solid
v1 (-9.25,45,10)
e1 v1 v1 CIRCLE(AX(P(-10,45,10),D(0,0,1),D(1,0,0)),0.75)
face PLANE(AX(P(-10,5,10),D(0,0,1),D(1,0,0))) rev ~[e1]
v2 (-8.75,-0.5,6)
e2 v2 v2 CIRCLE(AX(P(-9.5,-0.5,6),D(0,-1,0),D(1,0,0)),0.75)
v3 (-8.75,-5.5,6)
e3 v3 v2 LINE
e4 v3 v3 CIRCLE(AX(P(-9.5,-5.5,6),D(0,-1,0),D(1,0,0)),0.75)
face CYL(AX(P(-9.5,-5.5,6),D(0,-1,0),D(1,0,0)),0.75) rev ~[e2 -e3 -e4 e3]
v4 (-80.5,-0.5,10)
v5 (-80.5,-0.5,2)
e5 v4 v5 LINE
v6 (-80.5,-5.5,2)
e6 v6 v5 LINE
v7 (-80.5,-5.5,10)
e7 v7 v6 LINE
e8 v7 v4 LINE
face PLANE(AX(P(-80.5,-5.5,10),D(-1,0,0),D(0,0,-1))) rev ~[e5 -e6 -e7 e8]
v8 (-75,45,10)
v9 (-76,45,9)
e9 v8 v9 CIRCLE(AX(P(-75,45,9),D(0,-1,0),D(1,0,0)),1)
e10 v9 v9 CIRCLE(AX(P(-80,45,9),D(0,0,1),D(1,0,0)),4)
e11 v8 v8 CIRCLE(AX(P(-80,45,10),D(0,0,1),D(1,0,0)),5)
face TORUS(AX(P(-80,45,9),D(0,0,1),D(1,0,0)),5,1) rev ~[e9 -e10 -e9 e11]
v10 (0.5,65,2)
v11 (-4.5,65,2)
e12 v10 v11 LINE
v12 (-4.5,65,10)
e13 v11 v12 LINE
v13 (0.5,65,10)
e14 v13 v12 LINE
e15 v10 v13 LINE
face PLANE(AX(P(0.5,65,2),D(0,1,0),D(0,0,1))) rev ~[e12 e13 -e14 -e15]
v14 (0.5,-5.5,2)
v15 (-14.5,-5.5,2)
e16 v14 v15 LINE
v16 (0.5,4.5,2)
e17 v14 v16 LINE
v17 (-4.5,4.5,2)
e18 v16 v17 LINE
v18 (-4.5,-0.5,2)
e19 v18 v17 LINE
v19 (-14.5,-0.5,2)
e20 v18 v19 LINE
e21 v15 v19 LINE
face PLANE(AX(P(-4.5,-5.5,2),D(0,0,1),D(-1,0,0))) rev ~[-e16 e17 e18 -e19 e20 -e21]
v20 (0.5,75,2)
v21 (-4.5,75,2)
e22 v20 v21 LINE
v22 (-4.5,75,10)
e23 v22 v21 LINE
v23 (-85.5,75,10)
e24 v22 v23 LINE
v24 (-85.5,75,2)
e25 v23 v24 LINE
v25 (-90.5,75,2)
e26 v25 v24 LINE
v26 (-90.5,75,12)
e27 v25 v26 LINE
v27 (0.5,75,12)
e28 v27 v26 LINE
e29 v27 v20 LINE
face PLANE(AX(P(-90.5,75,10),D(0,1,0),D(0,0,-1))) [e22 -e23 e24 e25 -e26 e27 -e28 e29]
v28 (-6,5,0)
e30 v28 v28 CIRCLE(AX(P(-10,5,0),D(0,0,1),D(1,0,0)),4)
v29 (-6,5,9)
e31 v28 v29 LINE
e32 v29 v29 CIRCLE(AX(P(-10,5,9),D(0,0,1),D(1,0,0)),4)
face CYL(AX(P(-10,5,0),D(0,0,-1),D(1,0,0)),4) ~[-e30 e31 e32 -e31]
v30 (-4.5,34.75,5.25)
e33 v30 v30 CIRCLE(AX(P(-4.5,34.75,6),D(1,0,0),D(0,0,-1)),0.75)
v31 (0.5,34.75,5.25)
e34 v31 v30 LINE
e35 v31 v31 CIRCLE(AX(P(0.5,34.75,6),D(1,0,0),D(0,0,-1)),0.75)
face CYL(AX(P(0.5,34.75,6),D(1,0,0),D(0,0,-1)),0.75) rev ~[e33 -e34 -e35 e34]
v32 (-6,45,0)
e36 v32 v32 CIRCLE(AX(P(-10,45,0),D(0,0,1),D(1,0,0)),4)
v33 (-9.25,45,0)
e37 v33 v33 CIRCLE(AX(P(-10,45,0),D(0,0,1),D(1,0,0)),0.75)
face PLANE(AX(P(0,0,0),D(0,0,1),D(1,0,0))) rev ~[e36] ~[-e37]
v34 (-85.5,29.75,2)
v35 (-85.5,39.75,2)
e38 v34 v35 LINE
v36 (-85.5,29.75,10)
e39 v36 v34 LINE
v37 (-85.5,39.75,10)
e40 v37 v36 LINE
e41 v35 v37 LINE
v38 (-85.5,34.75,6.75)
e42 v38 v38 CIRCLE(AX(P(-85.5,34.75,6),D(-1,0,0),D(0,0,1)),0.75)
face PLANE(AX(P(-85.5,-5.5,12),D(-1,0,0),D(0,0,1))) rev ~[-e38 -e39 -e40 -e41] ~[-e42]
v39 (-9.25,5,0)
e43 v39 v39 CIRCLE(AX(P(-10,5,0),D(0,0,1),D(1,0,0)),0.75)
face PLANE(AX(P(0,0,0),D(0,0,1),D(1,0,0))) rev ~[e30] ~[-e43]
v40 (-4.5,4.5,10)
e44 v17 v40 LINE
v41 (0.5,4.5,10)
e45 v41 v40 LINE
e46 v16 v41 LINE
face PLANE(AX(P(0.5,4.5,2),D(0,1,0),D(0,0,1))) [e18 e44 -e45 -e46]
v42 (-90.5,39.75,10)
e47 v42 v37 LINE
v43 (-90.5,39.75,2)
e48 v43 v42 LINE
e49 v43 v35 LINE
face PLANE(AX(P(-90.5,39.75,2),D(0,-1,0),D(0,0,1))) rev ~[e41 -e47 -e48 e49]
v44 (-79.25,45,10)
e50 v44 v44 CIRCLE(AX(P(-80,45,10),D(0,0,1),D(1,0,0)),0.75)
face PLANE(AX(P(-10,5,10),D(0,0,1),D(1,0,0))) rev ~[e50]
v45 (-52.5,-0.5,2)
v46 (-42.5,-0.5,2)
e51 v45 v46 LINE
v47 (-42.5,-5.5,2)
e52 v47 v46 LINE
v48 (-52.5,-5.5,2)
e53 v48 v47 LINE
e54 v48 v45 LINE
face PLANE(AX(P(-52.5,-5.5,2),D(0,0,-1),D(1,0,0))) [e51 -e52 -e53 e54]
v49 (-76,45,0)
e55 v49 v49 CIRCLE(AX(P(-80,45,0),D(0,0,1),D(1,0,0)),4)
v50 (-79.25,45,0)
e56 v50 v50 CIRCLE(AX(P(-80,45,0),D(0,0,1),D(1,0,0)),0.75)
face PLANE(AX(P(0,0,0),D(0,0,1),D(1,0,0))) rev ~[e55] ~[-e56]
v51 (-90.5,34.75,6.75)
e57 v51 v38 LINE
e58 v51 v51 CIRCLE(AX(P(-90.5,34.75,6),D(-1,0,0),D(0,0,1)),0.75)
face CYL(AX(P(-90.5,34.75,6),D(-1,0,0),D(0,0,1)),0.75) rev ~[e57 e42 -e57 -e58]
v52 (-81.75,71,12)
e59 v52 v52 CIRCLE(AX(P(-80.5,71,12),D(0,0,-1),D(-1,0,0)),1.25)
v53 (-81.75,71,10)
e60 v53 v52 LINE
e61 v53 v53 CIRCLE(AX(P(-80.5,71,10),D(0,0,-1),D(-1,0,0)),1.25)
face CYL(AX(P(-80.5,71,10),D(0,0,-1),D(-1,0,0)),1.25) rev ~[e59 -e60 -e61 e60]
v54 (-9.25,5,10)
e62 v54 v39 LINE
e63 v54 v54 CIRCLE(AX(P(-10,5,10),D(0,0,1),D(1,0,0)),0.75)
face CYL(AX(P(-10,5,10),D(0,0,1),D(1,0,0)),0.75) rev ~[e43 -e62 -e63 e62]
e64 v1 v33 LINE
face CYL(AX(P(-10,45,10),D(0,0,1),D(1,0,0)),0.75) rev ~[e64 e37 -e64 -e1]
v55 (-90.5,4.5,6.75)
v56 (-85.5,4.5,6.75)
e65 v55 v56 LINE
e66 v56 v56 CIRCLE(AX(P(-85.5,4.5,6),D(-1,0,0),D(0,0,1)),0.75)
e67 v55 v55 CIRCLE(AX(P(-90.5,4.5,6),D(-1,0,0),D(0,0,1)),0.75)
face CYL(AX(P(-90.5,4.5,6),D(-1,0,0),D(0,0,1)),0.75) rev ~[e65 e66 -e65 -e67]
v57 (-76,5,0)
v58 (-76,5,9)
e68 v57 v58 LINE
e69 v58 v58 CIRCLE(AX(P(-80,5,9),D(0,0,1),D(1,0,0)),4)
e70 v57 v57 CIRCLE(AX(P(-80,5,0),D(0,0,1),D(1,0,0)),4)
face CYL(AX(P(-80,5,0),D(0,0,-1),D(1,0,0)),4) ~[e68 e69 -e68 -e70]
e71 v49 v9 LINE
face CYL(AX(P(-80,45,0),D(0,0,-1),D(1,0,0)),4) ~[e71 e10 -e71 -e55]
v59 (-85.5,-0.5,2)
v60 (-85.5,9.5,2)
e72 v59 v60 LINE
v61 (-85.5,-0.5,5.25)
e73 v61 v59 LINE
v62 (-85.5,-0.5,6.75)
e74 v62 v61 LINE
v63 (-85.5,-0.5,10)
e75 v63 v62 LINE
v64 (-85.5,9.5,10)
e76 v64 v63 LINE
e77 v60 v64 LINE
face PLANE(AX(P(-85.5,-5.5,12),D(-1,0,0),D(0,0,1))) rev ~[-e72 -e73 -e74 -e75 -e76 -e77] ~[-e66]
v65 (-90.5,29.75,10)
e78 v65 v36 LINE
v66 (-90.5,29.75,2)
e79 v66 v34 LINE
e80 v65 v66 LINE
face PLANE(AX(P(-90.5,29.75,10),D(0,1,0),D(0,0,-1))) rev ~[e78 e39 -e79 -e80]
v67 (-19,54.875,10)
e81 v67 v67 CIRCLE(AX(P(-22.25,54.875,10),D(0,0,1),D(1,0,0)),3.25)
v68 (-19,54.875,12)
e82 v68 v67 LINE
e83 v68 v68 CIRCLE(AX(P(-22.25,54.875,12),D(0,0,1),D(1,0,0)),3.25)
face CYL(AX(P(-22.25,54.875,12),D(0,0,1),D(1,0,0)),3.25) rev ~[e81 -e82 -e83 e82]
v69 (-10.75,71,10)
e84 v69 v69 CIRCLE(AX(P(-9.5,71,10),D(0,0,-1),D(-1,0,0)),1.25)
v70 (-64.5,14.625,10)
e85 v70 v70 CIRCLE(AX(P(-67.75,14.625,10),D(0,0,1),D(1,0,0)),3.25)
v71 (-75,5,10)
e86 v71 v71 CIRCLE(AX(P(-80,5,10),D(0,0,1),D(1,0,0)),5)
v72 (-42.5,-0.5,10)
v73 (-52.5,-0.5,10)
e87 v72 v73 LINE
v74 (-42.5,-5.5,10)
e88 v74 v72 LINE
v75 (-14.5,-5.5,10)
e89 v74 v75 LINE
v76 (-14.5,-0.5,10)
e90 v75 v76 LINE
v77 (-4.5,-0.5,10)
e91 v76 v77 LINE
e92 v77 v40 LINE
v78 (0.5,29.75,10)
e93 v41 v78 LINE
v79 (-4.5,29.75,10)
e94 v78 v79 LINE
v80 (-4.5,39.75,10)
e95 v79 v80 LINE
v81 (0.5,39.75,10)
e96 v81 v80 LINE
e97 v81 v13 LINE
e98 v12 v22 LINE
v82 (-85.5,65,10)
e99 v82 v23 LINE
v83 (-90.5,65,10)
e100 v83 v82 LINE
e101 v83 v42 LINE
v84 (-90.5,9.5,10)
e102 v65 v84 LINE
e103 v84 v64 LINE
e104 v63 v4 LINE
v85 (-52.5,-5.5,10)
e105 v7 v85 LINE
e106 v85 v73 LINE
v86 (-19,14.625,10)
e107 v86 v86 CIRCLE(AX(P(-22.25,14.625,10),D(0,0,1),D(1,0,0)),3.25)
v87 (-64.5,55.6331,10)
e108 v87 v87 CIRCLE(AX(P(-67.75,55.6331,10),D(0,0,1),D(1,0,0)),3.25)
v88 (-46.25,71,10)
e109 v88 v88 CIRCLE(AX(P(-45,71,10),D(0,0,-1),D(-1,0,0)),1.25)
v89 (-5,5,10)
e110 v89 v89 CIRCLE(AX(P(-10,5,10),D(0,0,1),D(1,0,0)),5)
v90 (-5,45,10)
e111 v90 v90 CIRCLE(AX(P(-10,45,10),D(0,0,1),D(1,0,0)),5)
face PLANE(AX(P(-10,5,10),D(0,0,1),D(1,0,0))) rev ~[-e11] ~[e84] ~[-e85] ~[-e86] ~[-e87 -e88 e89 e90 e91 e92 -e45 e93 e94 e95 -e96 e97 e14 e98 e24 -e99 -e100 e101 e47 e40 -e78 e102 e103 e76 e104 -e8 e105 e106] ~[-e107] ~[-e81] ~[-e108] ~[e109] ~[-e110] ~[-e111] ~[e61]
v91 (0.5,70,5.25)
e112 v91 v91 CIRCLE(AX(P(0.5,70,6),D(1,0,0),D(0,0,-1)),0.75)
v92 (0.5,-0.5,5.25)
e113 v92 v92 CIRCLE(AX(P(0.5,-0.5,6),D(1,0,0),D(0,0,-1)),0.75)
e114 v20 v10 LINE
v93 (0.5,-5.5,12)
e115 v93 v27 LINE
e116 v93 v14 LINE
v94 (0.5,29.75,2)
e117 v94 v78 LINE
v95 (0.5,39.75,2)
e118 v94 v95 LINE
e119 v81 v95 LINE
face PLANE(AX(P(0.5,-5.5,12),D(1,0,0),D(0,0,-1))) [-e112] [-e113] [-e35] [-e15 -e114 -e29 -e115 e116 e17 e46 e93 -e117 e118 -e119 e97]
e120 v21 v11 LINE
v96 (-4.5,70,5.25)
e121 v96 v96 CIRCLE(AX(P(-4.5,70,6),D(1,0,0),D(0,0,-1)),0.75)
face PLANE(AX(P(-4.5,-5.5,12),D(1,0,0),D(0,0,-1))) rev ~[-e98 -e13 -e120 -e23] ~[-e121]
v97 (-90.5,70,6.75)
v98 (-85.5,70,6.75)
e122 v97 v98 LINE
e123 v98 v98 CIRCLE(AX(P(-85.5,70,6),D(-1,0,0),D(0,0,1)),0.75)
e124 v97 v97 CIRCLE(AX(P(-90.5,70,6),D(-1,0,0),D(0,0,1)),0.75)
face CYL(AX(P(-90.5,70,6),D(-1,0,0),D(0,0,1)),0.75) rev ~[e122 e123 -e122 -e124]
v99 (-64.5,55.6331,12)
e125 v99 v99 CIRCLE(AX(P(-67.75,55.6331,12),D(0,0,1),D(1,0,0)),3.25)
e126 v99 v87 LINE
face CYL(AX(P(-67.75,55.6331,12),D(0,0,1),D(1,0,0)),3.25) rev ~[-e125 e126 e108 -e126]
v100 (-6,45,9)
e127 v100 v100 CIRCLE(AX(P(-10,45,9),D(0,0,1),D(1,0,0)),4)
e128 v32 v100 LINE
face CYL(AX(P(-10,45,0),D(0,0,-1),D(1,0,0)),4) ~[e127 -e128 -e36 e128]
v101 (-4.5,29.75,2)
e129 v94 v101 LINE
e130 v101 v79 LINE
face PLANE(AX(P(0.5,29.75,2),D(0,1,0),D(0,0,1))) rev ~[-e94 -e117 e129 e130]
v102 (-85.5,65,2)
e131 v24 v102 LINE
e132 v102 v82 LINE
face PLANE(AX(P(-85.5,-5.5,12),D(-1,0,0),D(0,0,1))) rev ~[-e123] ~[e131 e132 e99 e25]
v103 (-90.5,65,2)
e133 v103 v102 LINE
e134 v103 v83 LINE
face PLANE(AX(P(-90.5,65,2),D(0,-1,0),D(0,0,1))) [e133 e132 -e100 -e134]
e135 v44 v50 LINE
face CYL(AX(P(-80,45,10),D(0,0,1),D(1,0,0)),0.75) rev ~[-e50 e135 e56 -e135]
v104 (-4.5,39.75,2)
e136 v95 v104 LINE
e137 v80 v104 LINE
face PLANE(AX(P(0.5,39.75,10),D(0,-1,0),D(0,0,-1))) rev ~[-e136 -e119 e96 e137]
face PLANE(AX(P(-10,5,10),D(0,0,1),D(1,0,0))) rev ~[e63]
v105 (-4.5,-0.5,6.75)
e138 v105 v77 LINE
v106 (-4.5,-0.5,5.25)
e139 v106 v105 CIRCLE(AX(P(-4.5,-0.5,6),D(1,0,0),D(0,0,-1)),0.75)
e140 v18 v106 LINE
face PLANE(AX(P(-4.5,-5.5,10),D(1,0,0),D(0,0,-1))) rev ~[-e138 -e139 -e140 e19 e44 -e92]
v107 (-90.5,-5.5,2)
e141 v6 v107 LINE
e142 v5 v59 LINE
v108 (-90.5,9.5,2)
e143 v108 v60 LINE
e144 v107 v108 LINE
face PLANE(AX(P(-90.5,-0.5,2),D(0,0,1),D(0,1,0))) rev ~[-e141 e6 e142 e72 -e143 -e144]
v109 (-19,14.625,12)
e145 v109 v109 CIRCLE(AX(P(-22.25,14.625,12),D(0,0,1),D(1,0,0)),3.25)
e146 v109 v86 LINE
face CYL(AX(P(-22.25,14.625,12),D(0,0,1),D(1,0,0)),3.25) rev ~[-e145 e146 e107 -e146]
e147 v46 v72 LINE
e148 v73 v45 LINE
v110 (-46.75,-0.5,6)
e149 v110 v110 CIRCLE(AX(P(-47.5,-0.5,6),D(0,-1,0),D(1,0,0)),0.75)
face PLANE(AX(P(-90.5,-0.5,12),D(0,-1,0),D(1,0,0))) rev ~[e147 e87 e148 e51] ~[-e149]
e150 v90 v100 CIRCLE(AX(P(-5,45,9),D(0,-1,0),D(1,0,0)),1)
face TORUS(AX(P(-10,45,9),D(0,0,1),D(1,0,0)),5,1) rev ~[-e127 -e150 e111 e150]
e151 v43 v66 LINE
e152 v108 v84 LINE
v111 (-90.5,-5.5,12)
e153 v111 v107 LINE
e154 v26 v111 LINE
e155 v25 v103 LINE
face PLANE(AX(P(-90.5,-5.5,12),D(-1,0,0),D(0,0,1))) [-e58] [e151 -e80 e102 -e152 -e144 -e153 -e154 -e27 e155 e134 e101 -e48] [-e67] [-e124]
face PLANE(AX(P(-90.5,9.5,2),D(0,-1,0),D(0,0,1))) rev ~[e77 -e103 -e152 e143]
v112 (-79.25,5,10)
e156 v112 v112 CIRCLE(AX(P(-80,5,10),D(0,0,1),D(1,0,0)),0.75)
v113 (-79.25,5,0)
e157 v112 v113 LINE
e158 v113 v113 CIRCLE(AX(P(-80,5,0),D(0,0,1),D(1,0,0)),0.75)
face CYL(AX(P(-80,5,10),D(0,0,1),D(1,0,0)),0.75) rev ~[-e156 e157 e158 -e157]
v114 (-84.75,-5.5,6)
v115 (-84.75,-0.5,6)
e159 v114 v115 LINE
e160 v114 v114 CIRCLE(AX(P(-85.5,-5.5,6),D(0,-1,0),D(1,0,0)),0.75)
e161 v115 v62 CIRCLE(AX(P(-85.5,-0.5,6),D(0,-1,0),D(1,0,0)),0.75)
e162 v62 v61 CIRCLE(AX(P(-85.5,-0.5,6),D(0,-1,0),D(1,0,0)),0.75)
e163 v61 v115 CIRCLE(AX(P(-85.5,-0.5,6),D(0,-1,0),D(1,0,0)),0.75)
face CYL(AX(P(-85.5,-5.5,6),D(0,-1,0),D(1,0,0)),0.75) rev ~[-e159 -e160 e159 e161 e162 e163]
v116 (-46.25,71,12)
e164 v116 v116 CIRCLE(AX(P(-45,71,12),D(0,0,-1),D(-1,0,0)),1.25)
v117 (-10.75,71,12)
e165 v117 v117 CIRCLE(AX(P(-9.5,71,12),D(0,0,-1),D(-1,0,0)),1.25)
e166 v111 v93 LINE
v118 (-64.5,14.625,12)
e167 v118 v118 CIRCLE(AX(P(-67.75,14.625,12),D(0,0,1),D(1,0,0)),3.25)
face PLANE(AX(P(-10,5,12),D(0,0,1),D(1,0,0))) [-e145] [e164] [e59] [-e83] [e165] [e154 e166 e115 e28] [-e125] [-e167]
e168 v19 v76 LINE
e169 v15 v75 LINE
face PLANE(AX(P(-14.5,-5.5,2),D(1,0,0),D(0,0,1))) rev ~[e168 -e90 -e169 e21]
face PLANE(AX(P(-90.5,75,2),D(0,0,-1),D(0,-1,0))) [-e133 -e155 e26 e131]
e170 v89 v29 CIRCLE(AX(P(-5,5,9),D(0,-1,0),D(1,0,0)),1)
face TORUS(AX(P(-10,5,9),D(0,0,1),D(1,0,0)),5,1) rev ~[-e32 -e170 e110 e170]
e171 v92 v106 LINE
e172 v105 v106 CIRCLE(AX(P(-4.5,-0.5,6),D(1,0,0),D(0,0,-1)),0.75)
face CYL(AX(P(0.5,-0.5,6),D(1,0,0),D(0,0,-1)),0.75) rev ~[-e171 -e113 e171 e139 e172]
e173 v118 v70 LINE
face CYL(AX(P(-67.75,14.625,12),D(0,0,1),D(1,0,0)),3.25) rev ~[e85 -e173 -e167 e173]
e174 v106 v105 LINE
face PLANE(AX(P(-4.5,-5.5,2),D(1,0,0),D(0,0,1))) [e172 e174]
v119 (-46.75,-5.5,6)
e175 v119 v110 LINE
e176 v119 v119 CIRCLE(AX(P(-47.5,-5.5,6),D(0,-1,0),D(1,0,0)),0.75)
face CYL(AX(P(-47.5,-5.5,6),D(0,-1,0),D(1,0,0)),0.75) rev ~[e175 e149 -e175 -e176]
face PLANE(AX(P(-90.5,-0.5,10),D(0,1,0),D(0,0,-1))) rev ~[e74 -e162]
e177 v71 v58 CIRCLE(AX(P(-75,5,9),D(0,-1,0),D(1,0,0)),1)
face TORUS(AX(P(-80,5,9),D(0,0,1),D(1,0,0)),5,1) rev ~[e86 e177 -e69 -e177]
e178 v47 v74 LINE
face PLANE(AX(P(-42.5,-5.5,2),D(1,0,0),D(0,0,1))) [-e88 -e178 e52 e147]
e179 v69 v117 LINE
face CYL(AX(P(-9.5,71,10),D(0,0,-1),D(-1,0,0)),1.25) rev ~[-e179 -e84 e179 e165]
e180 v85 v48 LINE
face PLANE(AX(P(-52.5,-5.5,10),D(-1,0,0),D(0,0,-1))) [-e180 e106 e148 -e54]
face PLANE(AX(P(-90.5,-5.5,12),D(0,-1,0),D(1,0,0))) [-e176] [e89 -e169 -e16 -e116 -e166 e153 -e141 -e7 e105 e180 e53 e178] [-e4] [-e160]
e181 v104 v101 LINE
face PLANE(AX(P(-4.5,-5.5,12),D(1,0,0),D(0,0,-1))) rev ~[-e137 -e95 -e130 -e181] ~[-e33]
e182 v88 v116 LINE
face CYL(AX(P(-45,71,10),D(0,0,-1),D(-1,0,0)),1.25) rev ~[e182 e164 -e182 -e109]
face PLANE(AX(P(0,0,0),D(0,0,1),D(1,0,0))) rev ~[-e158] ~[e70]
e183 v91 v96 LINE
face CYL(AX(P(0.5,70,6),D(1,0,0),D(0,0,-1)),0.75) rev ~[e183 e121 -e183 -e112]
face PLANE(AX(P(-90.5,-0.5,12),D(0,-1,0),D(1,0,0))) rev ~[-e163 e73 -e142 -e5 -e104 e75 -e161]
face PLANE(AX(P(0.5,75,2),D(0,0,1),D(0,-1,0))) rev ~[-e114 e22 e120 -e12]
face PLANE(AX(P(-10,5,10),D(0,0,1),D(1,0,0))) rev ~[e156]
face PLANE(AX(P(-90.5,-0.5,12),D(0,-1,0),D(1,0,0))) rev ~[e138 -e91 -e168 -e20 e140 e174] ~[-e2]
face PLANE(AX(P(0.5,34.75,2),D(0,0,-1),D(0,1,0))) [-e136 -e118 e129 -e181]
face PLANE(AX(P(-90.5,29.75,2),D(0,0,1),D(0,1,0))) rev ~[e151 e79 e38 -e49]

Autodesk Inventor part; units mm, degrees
ref_plane "YZ Plane" through (0, 0, 0) normal (1, 0, 0) x (0, 1, 0)
ref_plane "XZ Plane" through (0, 0, 0) normal (0, 1, 0) x (-1, 0, 0)
ref_plane "XY Plane" through (0, 0, 0) normal (0, 0, 1) x (1, 0, 0)
ref_plane "Work Plane1" through (0, 0, 0) normal (0, 0, 1) x (1, 0, 0)
sketch "Sketch1" plane through (0, 0, 0) normal (0, 0, 1) x (1, 0, 0)
  circle A0 centre (-10, 5) radius 2 projected
  circle A1 centre (-80, 5) radius 2.426 projected
  circle A2 centre (-10, 45) radius 2 projected
  circle A3 centre (-80, 45) radius 2 projected
  circle A4 centre (-10, 5) radius 4
  circle A5 centre (-80, 5) radius 4
  circle A6 centre (-10, 45) radius 4
  circle A7 centre (-80, 45) radius 4
  point P0 (0, 0)
  dimension "d0" = 8
  dimension "d1" = 8
  dimension "d2" = 8
  dimension "d3" = 8
extrude "Extrusion1" add sketch "Sketch1" along normal blind 10 contours A0 | A1 | A2 | A3 | A4 | A5 | A6 | A7
sketch "Sketch2" plane through (-10, 5, 10) normal (0, 0, 1) x (1, 0, 0)
  circle A0 centre (0, 0) radius 4 projected
  circle A1 centre (0, 0) radius 0.75
  circle A2 centre (-70, 0) radius 4 projected
  circle A3 centre (-70, 0) radius 0.75
  circle A4 centre (0, 40) radius 4 projected
  circle A5 centre (0, 40) radius 0.75
  circle A6 centre (-70, 40) radius 4 projected
  circle A7 centre (-70, 40) radius 0.75
  point P0 (10, -5)
  dimension "d6" = 1.5
  dimension "d7" = 1.5
  dimension "d8" = 1.5
  dimension "d9" = 1.5
extrude "Extrusion2" cut sketch "Sketch2" against normal blind 10 contours A1 | A3 | A5 | A7
sketch "Sketch3" plane through (-10, 5, 10) normal (0, 0, 1) x (1, 0, 0)
  line L0 (-75, -10) -> (5, -10) projected
  line L1 (-80, 45) -> (-80, -5) projected
  line L2 (5, 50) -> (-75, 50) projected
  line L3 (10, -5) -> (10, 45) projected
  line L4 (-80.5, -10.5) -> (10.5, -10.5)
  line L5 (10.5, -10.5) -> (10.5, 70)
  line L6 (10.5, 70) -> (-80.5, 70)
  line L7 (-80.5, 70) -> (-80.5, -10.5)
extrude "Extrusion3" add sketch "Sketch3" along normal blind 2
sketch "Sketch4" plane through (-10, 5, 12) normal (0, 0, 1) x (1, 0, 0)
  line L0 (-80.5, 70) -> (10.5, 70)
  circle A0 centre (-12.25, 9.625) radius 3.25
  circle A1 centre (-57.75, 9.625) radius 3.25
  circle A2 centre (-12.25, 49.875) radius 3.25
  circle A3 centre (-57.75, 50.6331) radius 3.25
  point P0 (10, -5)
  point P1 (10.5, -10.5)
  dimension "d18" = 6.5
  dimension "d19" = 6.5
  dimension "d20" = 6.5
  dimension "d21" = 6.5
extrude "Extrusion4" cut sketch "Sketch4" against normal blind 2
sketch "Sketch5" plane through (0.5, -5.5, 10) normal (1, 0, 0) x (0, 0, -1)
  point P0 (10, 5.5)
sketch "Sketch6" plane through (0.5, -5.5, 10) normal (1, 0, 0) x (0, 0, -1)
  point P0 (10, 5.5)
sketch "Sketch7" plane through (0.5, -5.5, 10) normal (1, 0, 0) x (0, 0, -1)
  line L0 (0, 0) -> (0, 80.5) projected
  line L1 (0, 0) -> (8, 0)
  line L2 (8, 0) -> (8, 10)
  line L3 (8, 10) -> (0, 10)
  line L4 (0, 10) -> (0, 0)
  circle A0 centre (4, 5) radius 0.75
  point P0 (10, 5.5)
  dimension "d24" = 8
  dimension "d25" = 10
  dimension "d26" = 1.5
extrude "Extrusion5" add sketch "Sketch7" against normal blind 5
sketch "Sketch8" plane through (-90.5, -5.5, 12) normal (0, -1, 0) x (1, 0, 0)
  line L0 (86, -10) -> (86, -2) projected
  line L1 (86, -10) -> (76, -10)
  line L2 (76, -10) -> (76, -2)
  line L3 (76, -2) -> (86, -2)
  line L4 (86, -2) -> (86, -10)
  circle A0 centre (81, -6) radius 0.75
  point P0 (90.5, -12)
  dimension "d29" = 10
  dimension "d30" = 8
  dimension "d31" = 1.5
extrude "Extrusion6" add sketch "Sketch8" against normal blind 5
fillet "Fillet1" radius 1 1 edges at (-14, 5, 10)
sketch "Sketch9" plane through (-90.5, -5.5, 12) normal (0, -1, 0) x (1, 0, 0)
  line L0 (0, -2) -> (76, -2) projected
  line L1 (0, -2) -> (10, -2)
  line L2 (10, -2) -> (10, -10)
  line L3 (10, -10) -> (0, -10)
  line L4 (0, -10) -> (0, -2)
  circle A0 centre (5, -6) radius 0.75
  point P0 (90.5, -12)
  dimension "d35" = 10
  dimension "d36" = 8
  dimension "d37" = 1.5
extrude "Extrusion7" add sketch "Sketch9" against normal blind 5
sketch "Sketch10" plane through (-90.5, -5.5, 12) normal (-1, 0, 0) x (0, 0, 1)
  line L0 (-2, 5) -> (-2, 0) projected
  line L1 (-2, 5) -> (-10, 5)
  line L2 (-10, 5) -> (-10, 15)
  line L3 (-10, 15) -> (-2, 15)
  line L4 (-2, 15) -> (-2, 5)
  circle A0 centre (-6, 10) radius 0.75
  point P0 (-12, 5.5)
  point P1 (-2, 10)
  point P2 (-10, 10)
  dimension "d40" = 8
  dimension "d41" = 10
  dimension "d42" = 1.5
extrude "Extrusion8" add sketch "Sketch10" against normal blind 5
fillet "Fillet2" radius 1 1 edges at (-84, 5, 10)
sketch "Sketch11" plane through (-90.5, -5.5, 12) normal (0, -1, 0) x (1, 0, 0)
  line L0 (10, -2) -> (76, -2) projected
  line L1 (76, -2) -> (10, -2)
  circle A0 centre (43, -6) radius 0.75
  line L2 (43, -2) -> (38, -2)
  line L3 (38, -2) -> (38, -10)
  line L4 (38, -10) -> (48, -10)
  line L5 (48, -10) -> (48, -2)
  point P0 (90.5, -12)
  dimension "d47" = 1.5
  dimension "d48" = 5
  dimension "d49" = 8
  dimension "d50" = 10
extrude "Extrusion9" add sketch "Sketch11" against normal blind 5
sketch "Sketch12" plane through (-90.5, -5.5, 12) normal (-1, 0, 0) x (0, 0, 1)
  point P0 (-12, 5.5)
fillet "Fillet3" radius 1 2 edges at (-84, 45, 10) (-14, 45, 10)
sketch "Sketch13" plane through (-90.5, -5.5, 12) normal (-1, 0, 0) x (0, 0, 1)
  line L0 (-10, 0) -> (0, 0) projected
  line L1 (0, 0) -> (0, 80.5)
  circle A0 centre (-6, 40.25) radius 0.75
  line L2 (-10, 40.25) -> (-10, 45.25)
  line L3 (-10, 45.25) -> (-2, 45.25)
  line L4 (-2, 45.25) -> (-2, 35.25)
  line L5 (-2, 80.5) -> (-2, 15) projected
  line L6 (-2, 35.25) -> (-10, 35.25)
  line L7 (-10, 35.25) -> (-10, 40.25)
  point P0 (-12, 5.5)
  dimension "d56" = 1.5
  dimension "d57" = 5
  dimension "d58" = 8
  dimension "d59" = 10
  dimension "d60" = 8
extrude "Extrusion10" add sketch "Sketch13" against normal blind 5
sketch "Sketch14" plane through (0.5, -5.5, 12) normal (1, 0, 0) x (0, 0, -1)
  line L0 (10, 35.25) -> (10, 45.25) projected
  circle A0 centre (6, 40.25) radius 0.75 projected
  circle A1 centre (6, 40.25) radius 0.75
  line L1 (10, 40.25) -> (10, 35.25)
  line L2 (10, 35.25) -> (2, 35.25)
  line L3 (2, 10) -> (2, 80.5) projected
  line L4 (2, 35.25) -> (2, 45.25)
  line L5 (2, 45.25) -> (10, 45.25)
  line L6 (10, 45.25) -> (10, 40.25)
  point P0 (12, 5.5)
  dimension "d63" = 1.5
  dimension "d65" = 8
  dimension "d66" = 10
  dimension "d67" = 8
extrude "Extrusion11" add sketch "Sketch14" against normal blind 5
sketch "Sketch15" plane through (0.5, -5.5, 12) normal (1, 0, 0) x (0, 0, -1)
  line L0 (2, 80.5) -> (0, 80.5) projected
  line L1 (2, 80.5) -> (10, 80.5)
  line L2 (10, 80.5) -> (10, 70.5)
  line L3 (10, 70.5) -> (2, 70.5)
  line L4 (2, 70.5) -> (2, 80.5)
  circle A0 centre (6, 75.5) radius 0.75
  point P0 (12, 5.5)
  dimension "d70" = 8
  dimension "d71" = 10
  dimension "d73" = 1.5
extrude "Extrusion12" add sketch "Sketch15" against normal blind 5
sketch "Sketch16" plane through (-90.5, -5.5, 12) normal (-1, 0, 0) x (0, 0, 1)
  line L0 (-2, 80.5) -> (0, 80.5) projected
  line L1 (-10, 70.5) -> (-2, 70.5) projected
  line L2 (-2, 80.5) -> (-10, 80.5)
  line L3 (-10, 80.5) -> (-10, 70.5)
  line L4 (-10, 70.5) -> (-2, 70.5)
  line L5 (-2, 70.5) -> (-2, 80.5)
  circle A0 centre (-6, 75.5) radius 0.75 projected
  circle A1 centre (-6, 75.5) radius 0.75
  point P0 (-12, 5.5)
extrude "Extrusion13" add sketch "Sketch16" against normal blind 5
sketch "Sketch17" plane through (-10, 5, 10) normal (0, 0, -1) x (-1, 0, 0)
  circle A0 centre (35, 66) radius 1.25
  circle A1 centre (70.5, 66) radius 1.25
  circle A2 centre (-0.5, 66) radius 1.25
  point P0 (-10, -5)
  point P1 (75.5, 70)
  dimension "d79" = 2.5
  dimension "d83" = 2.5
  dimension "d85" = 2.5
extrude "Extrusion14" cut sketch "Sketch17" against normal blind 2
sketch "Sketch18" plane through (-10, 5, 12) normal (0, 0, 1) x (1, 0, 0)
  point P0 (10, -5)
properties part number "Down" material "Nylon, molybdenum disulphide"
